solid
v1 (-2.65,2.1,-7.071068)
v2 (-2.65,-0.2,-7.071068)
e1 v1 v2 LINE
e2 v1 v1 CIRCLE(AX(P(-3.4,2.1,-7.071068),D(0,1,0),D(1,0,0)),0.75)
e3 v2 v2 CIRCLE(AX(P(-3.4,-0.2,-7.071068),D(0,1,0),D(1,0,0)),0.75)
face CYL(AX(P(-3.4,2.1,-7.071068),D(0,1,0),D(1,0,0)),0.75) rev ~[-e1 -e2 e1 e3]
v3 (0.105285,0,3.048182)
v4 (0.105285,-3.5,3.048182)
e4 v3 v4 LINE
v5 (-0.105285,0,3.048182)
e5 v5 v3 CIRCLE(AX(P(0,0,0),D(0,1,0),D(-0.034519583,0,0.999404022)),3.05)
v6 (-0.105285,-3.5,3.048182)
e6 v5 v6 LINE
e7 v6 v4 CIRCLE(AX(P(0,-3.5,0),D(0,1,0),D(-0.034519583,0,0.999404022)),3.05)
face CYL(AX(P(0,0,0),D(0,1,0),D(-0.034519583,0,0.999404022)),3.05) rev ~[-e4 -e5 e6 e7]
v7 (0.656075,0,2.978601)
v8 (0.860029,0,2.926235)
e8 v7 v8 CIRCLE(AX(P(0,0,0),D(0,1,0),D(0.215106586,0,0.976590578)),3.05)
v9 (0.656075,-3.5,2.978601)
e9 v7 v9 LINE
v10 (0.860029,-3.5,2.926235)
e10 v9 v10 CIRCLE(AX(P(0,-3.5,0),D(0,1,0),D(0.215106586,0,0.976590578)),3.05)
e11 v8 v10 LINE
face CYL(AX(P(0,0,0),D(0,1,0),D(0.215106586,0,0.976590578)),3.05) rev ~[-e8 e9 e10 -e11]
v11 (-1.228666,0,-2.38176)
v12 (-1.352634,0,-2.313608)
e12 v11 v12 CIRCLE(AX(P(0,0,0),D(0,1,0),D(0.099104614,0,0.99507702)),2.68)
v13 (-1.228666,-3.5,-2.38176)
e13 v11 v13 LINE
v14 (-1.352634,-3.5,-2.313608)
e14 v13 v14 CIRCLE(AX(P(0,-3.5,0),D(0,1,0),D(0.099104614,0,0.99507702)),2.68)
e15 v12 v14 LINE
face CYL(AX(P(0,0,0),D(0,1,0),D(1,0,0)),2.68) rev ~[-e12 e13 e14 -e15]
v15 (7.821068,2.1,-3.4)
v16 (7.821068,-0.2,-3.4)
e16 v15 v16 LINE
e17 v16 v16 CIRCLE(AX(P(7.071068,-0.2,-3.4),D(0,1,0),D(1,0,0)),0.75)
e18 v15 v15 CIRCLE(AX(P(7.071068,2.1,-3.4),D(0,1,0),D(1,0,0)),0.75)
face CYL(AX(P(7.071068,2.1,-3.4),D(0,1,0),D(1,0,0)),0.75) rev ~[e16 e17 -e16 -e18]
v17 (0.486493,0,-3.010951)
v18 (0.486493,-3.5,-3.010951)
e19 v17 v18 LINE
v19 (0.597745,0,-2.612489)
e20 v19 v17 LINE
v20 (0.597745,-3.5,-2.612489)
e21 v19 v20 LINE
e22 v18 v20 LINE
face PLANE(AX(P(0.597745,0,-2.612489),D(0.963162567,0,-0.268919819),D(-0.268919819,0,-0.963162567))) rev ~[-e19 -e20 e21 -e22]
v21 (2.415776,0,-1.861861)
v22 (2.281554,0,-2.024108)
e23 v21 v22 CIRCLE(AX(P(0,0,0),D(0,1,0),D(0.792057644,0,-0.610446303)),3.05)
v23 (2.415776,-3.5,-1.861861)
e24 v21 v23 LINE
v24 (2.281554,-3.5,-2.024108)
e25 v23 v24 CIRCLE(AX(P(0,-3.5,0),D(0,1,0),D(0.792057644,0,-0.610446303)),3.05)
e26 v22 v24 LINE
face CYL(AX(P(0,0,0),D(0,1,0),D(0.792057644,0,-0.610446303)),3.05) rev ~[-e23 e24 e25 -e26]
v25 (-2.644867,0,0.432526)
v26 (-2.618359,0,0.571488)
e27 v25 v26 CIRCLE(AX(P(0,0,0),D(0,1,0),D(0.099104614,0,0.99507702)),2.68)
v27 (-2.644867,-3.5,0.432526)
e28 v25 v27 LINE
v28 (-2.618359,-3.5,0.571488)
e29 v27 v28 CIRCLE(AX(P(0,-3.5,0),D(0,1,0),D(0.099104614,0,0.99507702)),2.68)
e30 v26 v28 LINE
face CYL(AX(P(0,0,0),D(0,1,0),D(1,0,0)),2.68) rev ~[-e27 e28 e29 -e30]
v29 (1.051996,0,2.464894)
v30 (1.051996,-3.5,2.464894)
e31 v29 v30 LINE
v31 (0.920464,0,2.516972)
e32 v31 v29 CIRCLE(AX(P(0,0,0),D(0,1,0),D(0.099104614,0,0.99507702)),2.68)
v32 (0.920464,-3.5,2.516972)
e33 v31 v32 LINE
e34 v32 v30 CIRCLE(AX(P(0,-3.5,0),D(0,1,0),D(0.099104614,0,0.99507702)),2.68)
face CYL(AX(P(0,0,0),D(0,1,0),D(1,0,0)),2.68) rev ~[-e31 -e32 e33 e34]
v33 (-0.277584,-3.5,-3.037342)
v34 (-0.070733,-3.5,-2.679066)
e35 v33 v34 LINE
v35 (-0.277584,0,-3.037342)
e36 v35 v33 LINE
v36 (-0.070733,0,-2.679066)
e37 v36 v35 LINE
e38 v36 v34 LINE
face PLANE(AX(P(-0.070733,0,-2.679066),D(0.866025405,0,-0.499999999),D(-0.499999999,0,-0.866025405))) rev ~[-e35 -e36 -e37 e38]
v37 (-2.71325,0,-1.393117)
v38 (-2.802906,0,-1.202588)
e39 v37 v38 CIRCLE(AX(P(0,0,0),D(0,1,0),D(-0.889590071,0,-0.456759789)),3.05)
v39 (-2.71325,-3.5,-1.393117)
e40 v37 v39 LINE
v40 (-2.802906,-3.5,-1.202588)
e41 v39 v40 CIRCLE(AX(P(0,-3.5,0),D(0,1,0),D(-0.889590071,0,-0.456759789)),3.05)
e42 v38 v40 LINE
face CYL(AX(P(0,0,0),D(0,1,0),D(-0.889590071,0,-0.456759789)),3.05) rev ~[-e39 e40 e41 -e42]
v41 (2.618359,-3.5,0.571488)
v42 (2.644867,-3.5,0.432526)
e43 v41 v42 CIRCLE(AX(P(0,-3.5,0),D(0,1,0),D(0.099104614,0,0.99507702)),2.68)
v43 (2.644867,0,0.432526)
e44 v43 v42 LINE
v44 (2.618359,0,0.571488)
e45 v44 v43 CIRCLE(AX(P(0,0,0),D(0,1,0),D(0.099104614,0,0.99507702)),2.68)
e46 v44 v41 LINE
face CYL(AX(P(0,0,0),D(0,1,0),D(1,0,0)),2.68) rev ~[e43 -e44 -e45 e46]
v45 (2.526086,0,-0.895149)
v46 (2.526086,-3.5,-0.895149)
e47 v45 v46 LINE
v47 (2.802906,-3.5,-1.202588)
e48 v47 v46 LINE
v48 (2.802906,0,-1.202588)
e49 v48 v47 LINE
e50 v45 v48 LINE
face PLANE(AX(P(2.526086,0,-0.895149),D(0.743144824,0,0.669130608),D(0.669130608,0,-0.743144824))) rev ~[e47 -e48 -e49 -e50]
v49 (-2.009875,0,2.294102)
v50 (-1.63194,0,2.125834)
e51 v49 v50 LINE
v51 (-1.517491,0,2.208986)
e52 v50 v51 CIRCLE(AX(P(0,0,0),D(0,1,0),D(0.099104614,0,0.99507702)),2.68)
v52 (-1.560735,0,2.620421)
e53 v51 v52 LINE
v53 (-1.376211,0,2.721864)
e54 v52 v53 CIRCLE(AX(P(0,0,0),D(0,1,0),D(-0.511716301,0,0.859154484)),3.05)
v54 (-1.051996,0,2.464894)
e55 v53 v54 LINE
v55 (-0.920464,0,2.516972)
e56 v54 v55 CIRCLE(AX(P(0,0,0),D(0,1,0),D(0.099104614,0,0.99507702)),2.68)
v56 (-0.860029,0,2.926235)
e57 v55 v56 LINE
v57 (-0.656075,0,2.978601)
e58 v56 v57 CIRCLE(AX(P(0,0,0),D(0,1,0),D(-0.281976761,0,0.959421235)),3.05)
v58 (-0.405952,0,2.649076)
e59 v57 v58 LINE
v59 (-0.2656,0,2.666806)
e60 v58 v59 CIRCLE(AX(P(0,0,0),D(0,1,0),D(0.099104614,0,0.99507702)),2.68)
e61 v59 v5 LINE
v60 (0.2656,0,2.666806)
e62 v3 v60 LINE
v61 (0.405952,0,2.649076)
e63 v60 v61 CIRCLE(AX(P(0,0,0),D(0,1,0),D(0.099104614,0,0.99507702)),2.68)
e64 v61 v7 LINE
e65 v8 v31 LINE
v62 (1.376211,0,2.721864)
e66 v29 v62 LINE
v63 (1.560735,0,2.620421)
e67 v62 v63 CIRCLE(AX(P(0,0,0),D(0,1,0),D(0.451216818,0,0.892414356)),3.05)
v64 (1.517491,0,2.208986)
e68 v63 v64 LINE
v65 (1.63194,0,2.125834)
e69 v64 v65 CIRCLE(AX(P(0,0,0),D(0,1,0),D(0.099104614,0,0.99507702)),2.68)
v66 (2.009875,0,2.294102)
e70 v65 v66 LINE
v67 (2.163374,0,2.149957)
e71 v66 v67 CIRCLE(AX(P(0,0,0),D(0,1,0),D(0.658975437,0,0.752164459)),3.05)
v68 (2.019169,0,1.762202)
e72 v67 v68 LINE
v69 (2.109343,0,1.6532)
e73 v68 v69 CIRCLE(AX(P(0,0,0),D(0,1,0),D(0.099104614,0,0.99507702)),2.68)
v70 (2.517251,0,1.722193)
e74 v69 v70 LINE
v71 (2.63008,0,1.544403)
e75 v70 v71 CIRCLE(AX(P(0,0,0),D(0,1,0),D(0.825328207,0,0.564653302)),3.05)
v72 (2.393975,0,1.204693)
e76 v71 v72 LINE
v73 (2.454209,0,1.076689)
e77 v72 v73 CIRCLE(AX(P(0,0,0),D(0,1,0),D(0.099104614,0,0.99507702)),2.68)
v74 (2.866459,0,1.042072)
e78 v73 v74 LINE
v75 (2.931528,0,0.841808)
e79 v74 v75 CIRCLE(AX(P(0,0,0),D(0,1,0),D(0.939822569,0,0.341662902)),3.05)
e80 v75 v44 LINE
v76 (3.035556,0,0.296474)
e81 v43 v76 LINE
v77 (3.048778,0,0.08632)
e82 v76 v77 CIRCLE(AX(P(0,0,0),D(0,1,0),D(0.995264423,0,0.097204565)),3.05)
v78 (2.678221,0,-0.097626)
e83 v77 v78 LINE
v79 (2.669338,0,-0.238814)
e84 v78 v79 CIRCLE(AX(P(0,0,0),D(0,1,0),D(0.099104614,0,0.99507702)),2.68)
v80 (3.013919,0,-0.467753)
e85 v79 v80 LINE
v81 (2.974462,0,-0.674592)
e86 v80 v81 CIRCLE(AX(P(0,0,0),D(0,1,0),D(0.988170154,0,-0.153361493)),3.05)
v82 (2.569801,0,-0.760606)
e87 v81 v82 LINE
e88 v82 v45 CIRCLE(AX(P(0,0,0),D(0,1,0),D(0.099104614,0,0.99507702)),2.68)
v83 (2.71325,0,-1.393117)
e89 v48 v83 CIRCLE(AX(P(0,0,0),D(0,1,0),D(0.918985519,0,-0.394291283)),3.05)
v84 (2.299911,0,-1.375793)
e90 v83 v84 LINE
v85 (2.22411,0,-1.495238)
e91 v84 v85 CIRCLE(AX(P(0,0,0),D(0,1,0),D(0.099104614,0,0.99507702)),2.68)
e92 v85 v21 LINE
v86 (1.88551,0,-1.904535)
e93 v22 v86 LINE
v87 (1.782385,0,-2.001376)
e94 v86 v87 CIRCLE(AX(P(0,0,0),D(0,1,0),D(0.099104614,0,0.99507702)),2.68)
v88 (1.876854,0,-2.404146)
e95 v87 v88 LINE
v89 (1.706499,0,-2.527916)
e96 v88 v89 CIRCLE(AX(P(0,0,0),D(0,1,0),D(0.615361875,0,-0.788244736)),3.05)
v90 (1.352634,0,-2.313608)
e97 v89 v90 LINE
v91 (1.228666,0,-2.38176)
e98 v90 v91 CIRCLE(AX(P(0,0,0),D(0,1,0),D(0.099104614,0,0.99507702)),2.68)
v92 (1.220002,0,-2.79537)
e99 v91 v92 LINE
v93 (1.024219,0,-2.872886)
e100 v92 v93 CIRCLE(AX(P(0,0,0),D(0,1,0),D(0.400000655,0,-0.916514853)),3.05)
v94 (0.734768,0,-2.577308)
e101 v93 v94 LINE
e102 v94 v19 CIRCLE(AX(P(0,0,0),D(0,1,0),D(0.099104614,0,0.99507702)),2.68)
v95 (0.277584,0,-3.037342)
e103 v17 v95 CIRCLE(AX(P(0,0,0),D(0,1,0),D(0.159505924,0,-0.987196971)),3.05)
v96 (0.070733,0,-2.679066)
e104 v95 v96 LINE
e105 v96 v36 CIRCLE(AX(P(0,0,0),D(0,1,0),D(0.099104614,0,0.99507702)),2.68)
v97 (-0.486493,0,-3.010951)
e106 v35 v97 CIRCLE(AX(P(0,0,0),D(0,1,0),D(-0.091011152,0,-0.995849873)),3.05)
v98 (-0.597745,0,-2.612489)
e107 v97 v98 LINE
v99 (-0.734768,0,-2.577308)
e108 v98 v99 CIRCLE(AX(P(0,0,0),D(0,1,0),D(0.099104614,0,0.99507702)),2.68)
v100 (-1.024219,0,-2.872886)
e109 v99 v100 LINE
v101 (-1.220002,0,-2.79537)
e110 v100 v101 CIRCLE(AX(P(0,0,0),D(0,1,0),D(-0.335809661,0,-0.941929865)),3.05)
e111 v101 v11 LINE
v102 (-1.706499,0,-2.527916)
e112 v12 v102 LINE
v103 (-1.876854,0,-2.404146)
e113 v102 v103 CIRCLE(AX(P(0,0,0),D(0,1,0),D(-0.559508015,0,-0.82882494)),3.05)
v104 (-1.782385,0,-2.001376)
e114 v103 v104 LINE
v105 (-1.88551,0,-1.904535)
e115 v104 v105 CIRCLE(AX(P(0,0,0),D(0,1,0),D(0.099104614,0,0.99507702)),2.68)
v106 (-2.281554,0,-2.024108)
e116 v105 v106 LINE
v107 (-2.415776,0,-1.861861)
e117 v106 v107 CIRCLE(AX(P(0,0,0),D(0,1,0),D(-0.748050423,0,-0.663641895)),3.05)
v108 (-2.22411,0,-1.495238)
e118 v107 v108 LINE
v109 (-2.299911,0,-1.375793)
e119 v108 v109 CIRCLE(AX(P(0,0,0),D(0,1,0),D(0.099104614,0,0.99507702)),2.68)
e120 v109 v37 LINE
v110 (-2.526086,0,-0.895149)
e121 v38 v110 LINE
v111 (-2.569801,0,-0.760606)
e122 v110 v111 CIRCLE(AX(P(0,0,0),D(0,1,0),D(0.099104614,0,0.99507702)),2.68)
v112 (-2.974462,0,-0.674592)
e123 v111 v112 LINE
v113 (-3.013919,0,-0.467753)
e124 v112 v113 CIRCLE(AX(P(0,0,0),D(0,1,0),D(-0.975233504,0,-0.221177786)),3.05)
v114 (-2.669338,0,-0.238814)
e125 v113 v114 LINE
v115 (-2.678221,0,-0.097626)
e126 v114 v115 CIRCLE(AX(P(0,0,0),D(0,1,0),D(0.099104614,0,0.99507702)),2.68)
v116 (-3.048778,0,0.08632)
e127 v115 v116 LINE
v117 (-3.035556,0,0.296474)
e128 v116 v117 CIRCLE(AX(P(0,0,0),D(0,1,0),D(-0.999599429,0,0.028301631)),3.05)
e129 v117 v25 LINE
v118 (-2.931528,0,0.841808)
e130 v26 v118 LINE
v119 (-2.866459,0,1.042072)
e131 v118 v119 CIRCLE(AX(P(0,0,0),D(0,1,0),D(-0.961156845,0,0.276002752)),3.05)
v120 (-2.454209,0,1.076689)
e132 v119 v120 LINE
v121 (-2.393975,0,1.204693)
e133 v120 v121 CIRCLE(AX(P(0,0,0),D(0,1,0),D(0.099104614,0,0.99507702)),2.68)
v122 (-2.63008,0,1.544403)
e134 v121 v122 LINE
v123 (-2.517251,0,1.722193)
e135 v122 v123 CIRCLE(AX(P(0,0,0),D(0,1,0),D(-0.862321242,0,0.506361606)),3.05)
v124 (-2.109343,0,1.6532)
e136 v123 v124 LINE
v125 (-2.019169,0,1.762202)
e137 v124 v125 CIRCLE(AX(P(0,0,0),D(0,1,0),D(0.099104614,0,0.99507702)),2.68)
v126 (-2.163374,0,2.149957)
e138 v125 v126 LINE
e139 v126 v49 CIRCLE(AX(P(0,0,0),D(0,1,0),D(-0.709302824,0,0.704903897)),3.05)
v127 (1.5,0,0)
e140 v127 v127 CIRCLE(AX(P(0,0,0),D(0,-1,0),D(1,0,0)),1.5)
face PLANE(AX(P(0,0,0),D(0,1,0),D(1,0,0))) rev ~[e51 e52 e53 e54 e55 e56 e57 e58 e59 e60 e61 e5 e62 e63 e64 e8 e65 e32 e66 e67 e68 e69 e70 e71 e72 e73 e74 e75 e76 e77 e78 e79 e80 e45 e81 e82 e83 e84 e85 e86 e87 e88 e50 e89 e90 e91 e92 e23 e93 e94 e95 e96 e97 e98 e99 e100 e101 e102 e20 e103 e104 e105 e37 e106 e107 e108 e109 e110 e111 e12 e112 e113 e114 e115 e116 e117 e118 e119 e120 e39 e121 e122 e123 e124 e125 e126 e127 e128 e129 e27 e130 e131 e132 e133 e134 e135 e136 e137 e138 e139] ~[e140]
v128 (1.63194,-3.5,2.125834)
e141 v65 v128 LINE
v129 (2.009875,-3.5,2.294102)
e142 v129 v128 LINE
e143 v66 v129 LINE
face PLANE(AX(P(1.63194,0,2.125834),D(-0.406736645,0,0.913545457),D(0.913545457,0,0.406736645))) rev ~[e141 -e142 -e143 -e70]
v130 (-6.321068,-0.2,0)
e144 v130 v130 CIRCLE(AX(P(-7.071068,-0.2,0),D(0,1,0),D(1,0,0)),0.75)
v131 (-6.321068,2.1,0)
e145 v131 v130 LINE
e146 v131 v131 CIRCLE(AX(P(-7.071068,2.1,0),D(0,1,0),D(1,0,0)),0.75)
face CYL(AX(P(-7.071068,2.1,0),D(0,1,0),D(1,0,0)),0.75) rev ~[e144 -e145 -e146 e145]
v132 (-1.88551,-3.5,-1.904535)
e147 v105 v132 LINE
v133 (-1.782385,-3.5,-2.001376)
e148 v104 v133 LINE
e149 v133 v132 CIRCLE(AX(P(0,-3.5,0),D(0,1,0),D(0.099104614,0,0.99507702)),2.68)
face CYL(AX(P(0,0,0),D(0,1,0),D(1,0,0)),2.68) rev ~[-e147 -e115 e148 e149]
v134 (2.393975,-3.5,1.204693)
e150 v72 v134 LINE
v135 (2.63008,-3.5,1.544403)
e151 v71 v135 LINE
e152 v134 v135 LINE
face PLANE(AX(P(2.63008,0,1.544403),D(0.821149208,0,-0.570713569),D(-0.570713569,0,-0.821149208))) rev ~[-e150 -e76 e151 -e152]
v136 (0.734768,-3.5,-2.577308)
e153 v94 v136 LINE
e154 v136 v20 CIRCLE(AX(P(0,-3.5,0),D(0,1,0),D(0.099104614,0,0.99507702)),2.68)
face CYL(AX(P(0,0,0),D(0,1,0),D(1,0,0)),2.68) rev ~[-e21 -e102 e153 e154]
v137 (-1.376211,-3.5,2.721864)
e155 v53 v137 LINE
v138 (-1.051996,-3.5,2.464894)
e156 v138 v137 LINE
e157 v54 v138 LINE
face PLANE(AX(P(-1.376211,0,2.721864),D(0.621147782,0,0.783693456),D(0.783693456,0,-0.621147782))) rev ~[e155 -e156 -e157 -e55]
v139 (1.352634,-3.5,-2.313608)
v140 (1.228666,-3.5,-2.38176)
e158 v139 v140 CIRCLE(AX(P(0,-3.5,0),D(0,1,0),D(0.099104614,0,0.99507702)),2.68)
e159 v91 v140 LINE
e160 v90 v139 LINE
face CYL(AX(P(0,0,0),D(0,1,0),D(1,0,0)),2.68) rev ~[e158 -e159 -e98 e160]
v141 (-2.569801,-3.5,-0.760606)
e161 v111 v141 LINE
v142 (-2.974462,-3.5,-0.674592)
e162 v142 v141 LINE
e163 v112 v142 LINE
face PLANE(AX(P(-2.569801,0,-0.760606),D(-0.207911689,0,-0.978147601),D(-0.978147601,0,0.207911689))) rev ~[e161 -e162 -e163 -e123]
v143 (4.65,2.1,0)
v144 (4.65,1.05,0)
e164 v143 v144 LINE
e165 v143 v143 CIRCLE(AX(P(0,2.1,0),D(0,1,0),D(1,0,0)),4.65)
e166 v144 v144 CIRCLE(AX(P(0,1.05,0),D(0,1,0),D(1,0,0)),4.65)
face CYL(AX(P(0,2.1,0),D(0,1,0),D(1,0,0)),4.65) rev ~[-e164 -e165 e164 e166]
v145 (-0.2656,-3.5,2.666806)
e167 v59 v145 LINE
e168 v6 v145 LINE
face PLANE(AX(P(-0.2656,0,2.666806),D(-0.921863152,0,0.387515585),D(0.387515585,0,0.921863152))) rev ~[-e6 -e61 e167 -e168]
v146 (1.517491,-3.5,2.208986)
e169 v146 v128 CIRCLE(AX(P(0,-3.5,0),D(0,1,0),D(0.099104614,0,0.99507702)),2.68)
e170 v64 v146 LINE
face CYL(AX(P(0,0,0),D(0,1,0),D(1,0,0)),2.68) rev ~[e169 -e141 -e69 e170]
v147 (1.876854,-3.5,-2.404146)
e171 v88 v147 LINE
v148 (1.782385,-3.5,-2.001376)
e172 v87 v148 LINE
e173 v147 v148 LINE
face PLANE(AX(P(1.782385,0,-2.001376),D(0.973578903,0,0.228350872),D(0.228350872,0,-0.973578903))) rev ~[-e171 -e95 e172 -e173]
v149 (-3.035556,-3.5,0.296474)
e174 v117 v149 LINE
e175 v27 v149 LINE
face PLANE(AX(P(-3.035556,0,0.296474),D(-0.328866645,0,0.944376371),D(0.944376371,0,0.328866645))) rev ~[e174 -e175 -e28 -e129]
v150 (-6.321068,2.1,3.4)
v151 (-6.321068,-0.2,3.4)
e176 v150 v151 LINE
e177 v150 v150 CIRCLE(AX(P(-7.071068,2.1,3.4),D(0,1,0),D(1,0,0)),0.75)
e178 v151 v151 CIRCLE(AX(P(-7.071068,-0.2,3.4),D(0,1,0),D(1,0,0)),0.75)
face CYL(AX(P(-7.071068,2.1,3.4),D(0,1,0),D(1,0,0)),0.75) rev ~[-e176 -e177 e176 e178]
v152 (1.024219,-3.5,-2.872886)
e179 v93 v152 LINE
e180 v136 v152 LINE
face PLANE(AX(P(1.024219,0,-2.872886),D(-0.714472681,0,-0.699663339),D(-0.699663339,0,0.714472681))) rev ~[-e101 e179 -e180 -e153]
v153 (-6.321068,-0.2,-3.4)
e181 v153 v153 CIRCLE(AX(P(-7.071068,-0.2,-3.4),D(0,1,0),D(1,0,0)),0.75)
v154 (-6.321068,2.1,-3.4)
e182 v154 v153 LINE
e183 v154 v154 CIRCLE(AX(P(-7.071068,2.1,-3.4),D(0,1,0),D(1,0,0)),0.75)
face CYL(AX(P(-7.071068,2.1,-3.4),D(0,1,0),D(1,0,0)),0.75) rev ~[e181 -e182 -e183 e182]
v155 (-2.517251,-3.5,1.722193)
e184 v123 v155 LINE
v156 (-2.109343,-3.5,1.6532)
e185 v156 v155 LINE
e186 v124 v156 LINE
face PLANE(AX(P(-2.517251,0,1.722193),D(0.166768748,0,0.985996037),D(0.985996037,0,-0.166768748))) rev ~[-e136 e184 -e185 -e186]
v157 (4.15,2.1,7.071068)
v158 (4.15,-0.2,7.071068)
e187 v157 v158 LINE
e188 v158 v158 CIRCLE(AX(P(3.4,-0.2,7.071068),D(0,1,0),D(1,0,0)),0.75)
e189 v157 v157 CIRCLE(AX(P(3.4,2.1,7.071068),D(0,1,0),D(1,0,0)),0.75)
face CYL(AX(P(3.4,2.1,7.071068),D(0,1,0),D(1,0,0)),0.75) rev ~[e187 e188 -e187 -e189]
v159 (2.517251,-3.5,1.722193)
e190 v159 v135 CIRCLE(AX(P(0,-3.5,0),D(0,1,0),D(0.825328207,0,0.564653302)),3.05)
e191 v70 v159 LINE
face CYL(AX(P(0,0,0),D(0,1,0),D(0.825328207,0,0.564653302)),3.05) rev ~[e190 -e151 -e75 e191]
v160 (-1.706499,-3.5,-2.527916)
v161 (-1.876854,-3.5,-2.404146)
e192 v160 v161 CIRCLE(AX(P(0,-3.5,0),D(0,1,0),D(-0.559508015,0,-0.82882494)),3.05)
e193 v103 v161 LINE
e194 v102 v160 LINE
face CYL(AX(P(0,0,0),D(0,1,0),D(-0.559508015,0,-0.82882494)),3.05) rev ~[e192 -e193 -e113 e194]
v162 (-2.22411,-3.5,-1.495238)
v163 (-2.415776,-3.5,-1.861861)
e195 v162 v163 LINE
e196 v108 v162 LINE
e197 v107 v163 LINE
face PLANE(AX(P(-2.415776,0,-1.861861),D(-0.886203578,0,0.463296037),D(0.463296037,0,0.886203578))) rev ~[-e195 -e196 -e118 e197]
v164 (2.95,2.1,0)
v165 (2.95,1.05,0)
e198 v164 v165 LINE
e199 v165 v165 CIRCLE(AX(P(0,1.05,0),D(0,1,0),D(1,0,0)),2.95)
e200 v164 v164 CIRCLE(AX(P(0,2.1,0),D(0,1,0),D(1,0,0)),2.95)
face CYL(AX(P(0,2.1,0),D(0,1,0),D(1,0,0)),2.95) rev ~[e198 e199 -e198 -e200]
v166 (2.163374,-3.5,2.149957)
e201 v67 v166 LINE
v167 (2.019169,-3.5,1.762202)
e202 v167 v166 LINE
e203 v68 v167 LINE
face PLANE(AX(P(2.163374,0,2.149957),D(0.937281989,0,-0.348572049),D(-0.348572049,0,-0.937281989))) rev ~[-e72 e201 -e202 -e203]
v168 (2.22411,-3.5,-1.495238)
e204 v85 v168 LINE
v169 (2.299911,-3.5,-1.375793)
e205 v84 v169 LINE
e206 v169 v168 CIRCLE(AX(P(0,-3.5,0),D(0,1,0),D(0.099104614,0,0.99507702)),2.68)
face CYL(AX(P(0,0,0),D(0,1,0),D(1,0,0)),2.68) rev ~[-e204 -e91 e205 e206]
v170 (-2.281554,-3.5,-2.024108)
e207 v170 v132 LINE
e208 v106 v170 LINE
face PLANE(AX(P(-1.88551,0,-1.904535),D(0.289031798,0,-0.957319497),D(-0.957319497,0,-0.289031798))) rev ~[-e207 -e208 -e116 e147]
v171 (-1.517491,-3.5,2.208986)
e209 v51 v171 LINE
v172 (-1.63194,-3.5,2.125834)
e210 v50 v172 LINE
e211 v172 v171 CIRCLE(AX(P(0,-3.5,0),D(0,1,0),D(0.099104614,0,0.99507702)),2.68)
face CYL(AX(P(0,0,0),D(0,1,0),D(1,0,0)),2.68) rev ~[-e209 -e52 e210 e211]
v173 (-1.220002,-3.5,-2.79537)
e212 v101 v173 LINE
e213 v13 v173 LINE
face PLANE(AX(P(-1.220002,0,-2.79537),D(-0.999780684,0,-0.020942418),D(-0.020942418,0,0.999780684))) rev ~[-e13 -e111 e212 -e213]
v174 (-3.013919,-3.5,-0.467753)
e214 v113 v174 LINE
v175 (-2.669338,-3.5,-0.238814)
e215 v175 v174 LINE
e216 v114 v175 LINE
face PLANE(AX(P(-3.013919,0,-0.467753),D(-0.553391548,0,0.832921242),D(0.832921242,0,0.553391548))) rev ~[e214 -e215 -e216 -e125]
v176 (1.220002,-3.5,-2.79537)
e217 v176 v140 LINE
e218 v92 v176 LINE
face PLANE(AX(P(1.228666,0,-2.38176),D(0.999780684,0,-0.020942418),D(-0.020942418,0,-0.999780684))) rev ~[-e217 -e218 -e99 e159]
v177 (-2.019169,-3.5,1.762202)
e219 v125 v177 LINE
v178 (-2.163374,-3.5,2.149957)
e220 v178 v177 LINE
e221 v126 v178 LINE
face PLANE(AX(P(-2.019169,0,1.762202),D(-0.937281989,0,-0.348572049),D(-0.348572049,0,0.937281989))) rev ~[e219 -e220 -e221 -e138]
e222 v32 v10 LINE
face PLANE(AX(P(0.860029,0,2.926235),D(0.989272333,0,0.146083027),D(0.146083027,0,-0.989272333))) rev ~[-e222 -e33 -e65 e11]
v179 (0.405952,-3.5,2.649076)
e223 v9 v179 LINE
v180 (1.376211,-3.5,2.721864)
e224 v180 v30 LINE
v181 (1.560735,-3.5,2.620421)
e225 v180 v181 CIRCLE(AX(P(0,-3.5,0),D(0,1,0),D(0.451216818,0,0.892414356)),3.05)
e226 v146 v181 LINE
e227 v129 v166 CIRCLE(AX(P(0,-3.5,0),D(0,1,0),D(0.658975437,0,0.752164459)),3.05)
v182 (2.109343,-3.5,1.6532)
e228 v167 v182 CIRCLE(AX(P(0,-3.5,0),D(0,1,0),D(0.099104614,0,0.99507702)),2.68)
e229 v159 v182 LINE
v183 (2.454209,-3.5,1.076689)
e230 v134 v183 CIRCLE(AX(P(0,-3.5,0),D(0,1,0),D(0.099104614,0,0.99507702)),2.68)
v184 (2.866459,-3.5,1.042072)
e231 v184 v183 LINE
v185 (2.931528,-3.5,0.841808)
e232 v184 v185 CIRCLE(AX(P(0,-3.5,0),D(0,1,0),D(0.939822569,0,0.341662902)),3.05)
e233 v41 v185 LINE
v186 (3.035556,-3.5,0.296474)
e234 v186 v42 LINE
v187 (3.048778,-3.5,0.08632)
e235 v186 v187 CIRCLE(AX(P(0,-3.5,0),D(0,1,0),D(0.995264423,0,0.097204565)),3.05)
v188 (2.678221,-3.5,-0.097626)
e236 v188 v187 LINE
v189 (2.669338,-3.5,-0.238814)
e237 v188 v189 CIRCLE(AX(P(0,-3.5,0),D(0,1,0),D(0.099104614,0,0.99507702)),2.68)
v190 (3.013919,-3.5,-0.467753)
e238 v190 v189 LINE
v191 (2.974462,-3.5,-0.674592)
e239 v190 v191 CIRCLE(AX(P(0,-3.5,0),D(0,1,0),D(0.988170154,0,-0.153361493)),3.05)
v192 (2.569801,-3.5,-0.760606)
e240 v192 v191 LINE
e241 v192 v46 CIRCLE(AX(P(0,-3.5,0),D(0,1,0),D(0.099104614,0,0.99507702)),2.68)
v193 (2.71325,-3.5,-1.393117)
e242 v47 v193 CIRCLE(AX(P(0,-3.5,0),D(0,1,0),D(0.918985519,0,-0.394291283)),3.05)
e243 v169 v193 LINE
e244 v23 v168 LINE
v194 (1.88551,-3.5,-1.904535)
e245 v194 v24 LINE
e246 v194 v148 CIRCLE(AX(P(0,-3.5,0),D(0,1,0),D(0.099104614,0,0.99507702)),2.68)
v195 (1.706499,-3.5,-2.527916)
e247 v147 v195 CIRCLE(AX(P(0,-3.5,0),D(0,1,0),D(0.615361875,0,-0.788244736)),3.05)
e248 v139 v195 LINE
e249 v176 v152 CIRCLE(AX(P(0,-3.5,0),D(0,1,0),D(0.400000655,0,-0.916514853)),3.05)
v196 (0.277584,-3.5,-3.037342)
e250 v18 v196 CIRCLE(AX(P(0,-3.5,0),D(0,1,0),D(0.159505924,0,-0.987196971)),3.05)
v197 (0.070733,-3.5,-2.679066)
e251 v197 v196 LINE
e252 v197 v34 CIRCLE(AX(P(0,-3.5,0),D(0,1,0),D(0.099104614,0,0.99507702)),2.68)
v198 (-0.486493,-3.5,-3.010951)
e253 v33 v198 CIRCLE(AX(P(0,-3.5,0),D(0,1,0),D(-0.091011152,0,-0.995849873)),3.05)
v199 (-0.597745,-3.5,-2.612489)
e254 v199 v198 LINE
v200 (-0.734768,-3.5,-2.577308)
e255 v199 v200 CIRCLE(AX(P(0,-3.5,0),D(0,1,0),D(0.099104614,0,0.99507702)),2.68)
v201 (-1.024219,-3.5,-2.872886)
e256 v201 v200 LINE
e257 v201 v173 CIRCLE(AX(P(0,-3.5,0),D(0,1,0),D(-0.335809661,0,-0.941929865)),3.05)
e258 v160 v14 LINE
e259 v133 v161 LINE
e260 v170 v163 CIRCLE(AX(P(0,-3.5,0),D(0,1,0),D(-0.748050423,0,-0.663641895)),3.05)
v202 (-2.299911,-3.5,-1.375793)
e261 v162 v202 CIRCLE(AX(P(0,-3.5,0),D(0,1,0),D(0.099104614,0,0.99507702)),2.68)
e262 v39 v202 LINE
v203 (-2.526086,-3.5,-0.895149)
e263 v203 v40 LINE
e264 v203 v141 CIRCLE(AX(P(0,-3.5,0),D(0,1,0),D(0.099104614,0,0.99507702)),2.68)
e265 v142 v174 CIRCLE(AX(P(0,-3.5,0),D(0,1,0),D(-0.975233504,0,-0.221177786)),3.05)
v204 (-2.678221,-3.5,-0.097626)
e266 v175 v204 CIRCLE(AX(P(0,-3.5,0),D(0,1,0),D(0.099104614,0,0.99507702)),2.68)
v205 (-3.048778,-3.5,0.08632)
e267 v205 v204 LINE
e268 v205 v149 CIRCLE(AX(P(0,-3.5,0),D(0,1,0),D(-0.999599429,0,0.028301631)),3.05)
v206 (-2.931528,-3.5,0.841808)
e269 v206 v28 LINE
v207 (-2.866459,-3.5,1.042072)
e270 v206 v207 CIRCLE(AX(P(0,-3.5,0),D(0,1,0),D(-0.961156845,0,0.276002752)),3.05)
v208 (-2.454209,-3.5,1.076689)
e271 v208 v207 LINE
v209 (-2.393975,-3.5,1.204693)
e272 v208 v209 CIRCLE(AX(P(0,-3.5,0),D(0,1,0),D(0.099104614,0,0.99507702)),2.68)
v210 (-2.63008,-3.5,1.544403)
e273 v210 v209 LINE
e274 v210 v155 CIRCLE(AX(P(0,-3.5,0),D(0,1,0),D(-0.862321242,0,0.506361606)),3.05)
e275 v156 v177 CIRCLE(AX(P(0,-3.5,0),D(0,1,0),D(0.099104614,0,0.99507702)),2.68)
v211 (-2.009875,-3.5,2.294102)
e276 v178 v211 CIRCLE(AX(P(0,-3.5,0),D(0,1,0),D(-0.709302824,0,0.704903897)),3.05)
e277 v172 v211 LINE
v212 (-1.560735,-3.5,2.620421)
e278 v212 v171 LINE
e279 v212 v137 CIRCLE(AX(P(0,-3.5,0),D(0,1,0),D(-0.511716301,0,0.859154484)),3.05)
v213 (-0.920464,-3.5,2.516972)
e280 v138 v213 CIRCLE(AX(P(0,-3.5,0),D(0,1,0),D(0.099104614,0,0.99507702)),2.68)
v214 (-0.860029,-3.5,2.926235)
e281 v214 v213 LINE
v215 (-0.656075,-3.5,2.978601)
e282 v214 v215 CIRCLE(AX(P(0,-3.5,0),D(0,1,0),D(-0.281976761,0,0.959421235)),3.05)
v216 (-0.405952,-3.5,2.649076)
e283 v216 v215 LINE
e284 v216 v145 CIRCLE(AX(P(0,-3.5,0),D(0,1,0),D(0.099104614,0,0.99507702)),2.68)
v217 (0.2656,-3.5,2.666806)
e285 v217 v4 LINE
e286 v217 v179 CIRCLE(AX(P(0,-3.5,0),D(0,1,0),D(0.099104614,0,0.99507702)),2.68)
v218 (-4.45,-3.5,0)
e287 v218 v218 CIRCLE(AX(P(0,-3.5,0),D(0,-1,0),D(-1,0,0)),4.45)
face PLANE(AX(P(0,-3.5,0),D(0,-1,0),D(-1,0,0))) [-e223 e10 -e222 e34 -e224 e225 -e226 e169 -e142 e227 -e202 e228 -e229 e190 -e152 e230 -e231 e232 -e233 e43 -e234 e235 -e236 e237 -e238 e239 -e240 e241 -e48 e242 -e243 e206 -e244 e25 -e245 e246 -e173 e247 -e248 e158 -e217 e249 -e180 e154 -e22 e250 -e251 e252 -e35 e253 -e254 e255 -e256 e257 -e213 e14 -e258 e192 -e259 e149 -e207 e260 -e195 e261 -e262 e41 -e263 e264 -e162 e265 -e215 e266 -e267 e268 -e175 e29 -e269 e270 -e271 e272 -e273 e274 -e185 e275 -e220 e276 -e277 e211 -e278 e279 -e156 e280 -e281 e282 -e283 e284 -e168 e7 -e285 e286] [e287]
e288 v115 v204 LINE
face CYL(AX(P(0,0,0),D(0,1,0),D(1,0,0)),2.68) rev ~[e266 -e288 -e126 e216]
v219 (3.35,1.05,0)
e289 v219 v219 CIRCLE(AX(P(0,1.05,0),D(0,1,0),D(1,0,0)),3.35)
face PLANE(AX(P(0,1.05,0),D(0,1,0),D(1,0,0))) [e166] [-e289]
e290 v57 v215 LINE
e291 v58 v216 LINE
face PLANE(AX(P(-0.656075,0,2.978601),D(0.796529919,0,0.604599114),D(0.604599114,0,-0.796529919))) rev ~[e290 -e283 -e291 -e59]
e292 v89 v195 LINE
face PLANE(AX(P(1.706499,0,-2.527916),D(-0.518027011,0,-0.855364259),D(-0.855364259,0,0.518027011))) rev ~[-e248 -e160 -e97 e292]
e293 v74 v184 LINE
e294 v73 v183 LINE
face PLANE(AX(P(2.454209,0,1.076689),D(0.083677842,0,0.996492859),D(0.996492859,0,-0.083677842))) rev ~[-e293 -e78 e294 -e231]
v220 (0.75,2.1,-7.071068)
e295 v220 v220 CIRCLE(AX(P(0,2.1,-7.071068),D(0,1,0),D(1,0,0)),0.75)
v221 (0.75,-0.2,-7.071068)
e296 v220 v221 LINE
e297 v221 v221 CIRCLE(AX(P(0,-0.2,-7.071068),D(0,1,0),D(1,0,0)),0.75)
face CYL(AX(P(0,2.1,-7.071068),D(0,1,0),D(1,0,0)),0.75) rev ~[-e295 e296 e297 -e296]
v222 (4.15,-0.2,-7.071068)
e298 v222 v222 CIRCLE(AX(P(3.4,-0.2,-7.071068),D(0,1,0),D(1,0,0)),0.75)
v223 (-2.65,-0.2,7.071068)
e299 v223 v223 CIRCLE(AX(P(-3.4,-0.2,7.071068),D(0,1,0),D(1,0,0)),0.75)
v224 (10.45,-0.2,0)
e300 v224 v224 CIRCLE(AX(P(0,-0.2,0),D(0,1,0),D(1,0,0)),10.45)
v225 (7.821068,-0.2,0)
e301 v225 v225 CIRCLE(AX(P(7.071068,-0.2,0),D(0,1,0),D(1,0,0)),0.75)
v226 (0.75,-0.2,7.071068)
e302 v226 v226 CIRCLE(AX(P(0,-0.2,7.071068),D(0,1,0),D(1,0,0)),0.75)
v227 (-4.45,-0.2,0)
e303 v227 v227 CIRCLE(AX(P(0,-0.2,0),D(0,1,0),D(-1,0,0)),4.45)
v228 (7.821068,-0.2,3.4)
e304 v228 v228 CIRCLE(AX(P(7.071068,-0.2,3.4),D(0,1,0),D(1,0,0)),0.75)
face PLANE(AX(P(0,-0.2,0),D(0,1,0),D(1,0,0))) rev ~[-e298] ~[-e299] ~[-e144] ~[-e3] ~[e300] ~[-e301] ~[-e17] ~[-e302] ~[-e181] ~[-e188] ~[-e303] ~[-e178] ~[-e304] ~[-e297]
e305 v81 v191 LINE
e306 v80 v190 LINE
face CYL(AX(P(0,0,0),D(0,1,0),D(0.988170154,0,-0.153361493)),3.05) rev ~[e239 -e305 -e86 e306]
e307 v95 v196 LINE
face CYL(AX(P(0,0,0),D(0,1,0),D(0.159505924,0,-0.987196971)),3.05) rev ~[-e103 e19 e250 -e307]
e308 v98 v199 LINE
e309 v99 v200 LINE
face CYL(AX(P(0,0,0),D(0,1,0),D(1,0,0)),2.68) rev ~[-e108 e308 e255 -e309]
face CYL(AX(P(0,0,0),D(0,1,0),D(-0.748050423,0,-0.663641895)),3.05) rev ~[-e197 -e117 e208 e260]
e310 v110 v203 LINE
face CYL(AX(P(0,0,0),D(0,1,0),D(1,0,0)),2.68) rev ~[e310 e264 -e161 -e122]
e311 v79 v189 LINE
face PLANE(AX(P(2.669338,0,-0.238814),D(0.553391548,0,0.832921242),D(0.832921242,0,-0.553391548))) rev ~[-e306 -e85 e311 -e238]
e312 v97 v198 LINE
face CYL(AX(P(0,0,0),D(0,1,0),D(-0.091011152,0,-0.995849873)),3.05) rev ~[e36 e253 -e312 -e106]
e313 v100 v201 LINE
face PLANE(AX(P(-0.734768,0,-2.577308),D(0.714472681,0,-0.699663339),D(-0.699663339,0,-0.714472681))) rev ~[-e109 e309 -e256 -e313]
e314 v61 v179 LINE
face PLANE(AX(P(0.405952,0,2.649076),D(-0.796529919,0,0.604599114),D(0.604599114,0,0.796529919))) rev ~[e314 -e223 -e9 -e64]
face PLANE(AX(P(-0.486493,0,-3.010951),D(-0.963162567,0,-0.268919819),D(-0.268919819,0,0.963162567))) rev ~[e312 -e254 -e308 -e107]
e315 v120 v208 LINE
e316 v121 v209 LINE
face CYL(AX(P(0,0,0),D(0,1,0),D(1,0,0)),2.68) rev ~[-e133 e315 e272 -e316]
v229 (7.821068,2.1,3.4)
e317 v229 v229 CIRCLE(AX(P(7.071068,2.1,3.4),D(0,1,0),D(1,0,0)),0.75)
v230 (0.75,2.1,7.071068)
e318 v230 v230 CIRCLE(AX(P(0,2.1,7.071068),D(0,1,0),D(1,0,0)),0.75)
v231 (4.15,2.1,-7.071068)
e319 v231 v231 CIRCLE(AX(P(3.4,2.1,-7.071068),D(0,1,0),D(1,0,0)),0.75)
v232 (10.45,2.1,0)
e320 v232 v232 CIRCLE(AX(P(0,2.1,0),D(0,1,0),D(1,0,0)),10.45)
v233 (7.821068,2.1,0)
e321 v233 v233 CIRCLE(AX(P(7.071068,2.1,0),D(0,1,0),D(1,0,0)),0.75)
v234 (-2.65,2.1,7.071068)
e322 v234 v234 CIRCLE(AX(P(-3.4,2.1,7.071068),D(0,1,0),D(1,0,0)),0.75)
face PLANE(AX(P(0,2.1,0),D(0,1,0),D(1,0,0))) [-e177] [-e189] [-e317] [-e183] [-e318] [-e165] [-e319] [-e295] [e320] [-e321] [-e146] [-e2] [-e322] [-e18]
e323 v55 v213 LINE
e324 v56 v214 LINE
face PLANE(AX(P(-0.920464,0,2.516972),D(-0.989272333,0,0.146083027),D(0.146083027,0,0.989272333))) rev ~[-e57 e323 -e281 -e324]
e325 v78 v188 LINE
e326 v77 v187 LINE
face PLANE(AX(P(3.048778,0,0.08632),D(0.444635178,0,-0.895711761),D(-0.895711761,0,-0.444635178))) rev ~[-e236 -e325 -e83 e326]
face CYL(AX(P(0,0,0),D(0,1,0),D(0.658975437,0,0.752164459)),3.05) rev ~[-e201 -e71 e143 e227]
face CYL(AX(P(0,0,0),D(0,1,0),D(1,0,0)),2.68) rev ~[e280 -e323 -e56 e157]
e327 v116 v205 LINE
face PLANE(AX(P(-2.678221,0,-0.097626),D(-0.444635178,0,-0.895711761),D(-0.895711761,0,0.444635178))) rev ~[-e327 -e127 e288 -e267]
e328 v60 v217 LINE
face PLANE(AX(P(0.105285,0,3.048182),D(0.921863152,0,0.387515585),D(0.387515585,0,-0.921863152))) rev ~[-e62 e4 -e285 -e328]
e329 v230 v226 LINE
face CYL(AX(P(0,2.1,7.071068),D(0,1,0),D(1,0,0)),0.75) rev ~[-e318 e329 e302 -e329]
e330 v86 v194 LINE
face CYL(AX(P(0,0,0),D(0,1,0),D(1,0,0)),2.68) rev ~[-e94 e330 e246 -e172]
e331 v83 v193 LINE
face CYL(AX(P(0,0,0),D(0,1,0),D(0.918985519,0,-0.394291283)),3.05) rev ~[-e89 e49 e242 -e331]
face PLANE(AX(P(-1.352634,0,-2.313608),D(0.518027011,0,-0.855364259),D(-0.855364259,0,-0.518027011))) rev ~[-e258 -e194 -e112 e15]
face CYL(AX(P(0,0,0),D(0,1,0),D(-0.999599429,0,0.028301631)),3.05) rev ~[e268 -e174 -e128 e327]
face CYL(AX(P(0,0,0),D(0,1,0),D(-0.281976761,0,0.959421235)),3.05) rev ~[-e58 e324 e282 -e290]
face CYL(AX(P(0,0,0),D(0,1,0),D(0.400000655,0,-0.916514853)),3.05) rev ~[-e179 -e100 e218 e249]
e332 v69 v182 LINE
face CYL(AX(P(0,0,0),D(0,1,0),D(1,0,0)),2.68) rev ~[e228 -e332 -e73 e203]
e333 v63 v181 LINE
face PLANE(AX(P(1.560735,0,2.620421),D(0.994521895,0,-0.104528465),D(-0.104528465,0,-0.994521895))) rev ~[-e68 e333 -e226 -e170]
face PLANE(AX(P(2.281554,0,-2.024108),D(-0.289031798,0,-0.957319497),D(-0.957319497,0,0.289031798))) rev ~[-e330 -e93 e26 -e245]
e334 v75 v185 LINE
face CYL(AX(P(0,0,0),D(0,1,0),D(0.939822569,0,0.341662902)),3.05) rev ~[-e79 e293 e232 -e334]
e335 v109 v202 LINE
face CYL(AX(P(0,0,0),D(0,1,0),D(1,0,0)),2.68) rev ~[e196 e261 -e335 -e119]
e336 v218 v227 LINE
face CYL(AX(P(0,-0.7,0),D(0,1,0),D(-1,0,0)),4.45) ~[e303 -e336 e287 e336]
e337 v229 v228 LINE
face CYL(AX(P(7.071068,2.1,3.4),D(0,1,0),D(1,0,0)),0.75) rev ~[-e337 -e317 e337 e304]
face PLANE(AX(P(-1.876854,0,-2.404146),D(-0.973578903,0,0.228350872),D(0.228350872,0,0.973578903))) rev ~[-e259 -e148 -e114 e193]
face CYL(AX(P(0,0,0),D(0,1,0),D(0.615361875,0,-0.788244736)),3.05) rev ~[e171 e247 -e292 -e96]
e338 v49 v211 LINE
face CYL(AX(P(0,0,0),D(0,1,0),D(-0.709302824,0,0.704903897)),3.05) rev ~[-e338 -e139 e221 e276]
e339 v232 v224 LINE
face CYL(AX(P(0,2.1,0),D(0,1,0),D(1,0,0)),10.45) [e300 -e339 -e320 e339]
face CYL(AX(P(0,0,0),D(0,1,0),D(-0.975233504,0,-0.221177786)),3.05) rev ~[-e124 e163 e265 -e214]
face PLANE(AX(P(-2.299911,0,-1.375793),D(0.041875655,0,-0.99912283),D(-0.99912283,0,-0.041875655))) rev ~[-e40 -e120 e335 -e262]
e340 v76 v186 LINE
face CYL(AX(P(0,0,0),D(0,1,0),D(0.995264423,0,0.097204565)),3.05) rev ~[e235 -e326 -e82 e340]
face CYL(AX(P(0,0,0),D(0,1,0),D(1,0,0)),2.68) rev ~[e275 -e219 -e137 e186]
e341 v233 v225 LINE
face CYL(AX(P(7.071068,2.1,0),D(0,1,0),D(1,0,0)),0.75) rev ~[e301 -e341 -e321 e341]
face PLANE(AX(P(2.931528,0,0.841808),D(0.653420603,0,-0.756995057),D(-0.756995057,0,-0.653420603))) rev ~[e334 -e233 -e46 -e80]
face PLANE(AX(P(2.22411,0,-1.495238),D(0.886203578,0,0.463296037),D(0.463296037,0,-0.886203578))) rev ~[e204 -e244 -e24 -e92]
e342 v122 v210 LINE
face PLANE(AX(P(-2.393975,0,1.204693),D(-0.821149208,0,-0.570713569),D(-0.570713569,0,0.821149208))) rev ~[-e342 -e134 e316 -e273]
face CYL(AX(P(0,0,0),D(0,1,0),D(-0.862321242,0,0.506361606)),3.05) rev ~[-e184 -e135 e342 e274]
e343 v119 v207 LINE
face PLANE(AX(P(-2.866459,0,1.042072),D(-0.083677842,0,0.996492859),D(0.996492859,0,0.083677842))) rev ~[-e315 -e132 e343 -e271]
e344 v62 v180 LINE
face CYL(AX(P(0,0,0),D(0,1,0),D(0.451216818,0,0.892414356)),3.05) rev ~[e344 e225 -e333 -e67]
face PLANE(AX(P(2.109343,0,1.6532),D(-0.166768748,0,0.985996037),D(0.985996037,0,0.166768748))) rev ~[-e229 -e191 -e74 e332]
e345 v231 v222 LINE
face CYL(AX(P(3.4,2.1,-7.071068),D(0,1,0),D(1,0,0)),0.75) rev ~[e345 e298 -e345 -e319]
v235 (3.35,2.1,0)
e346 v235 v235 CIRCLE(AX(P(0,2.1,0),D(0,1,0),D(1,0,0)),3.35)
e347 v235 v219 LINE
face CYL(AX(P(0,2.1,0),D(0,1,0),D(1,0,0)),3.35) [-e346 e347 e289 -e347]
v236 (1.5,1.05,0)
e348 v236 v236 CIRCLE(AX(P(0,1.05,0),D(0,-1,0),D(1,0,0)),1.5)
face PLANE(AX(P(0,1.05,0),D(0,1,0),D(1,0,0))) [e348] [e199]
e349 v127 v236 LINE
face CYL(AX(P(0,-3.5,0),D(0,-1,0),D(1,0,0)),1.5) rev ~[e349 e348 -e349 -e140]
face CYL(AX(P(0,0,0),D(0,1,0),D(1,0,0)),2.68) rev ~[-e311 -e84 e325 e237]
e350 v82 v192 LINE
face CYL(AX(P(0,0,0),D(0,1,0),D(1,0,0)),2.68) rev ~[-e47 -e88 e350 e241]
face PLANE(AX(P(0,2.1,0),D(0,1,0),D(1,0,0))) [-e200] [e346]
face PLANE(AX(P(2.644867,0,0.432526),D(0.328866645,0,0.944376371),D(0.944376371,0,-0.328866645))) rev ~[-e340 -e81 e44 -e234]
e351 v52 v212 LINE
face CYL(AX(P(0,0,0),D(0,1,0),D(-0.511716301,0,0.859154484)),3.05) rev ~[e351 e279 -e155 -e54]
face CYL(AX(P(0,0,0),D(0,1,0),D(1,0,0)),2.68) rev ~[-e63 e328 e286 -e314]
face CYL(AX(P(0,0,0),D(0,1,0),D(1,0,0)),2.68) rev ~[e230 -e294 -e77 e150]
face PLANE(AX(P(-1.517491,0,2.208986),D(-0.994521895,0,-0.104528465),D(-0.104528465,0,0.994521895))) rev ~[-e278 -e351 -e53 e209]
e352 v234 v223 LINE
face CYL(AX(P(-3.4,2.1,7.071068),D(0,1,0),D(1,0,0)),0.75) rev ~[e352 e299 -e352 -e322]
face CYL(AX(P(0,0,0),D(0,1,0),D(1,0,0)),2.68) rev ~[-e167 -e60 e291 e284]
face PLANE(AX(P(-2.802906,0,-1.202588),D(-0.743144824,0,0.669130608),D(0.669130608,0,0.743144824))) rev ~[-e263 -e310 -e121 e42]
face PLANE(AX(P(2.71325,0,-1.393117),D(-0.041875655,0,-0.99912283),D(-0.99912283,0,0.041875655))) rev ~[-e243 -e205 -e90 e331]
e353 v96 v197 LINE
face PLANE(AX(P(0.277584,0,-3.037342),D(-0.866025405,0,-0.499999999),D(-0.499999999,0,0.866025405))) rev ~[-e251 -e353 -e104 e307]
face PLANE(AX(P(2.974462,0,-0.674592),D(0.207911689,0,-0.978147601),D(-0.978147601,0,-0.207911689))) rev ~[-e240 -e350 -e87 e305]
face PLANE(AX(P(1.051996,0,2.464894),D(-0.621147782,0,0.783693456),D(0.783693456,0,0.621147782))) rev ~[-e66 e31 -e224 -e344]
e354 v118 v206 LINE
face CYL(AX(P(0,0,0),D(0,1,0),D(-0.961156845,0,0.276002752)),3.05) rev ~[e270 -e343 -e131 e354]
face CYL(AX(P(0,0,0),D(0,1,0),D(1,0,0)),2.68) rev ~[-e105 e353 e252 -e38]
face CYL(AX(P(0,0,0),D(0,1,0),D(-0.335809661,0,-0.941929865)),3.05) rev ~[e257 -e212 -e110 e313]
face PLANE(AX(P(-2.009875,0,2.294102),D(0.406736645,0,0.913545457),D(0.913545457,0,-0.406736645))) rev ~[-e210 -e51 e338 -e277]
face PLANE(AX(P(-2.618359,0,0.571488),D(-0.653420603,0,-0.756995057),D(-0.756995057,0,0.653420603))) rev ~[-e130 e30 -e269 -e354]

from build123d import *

# Parameters (mm, degrees)
ESQUISSE2_W                  = 4.45
ESQUISSE2_H                  = 5.6
ESQUISSE3_R                  = 10.45
ESQUISSE3_R_2                = 0.75
BOSS_EXTRU_1_DEPTH           = 2.3
ESQUISSE4_R                  = 2.95
ENL_V_MAT_EXTRU_1_DEPTH      = 1.05
ESQUISSE5_R                  = 4.65
ESQUISSE5_R_2                = 3.35
ENL_V_MAT_EXTRU_2_DEPTH      = 1.05
ESQUISSE6_R                  = 1.5
ENL_V_MAT_EXTRU_3_DEPTH      = 6.6
ESQUISSE8_R                  = 2.68
ENL_V_MAT_EXTRU_4_DEPTH      = 4.5
ENL_V_MAT_EXTRU_5_DEPTH      = 4.5
R_P_TITION_CIRCULAIRE1_COUNT = 25


with BuildPart() as part:
    # Esquisse2 → Révolution1 (revolve)
    with BuildSketch(Plane.XY):
        with Locations((-2.225, -0.7)):
            Rectangle(ESQUISSE2_W, ESQUISSE2_H)
    revolve(axis=Axis((0, 3.929571688, 0), (0, -1, 0)))

    # Esquisse3 → Boss.-Extru.1 (add)
    with BuildSketch(Plane(origin=(0, 2.1, 0), x_dir=(1, 0, 0), z_dir=(0, 1, 0))):
        Circle(ESQUISSE3_R)
        with Locations((-3.4, 7.071067812)):
            Circle(ESQUISSE3_R_2, mode=Mode.SUBTRACT)
        with Locations((0, 7.071067812)):
            Circle(ESQUISSE3_R_2, mode=Mode.SUBTRACT)
        with Locations((3.4, 7.071067812)):
            Circle(ESQUISSE3_R_2, mode=Mode.SUBTRACT)
        with Locations((-7.071067812, 3.4)):
            Circle(ESQUISSE3_R_2, mode=Mode.SUBTRACT)
        with Locations((-7.071067812, 0)):
            Circle(ESQUISSE3_R_2, mode=Mode.SUBTRACT)
        with Locations((-7.071067812, -3.4)):
            Circle(ESQUISSE3_R_2, mode=Mode.SUBTRACT)
        with Locations((-3.4, -7.071067812)):
            Circle(ESQUISSE3_R_2, mode=Mode.SUBTRACT)
        with Locations((0, -7.071067812)):
            Circle(ESQUISSE3_R_2, mode=Mode.SUBTRACT)
        with Locations((3.4, -7.071067812)):
            Circle(ESQUISSE3_R_2, mode=Mode.SUBTRACT)
        with Locations((7.071067812, 3.4)):
            Circle(ESQUISSE3_R_2, mode=Mode.SUBTRACT)
        with Locations((7.071067812, 0)):
            Circle(ESQUISSE3_R_2, mode=Mode.SUBTRACT)
        with Locations((7.071067812, -3.4)):
            Circle(ESQUISSE3_R_2, mode=Mode.SUBTRACT)
    extrude(amount=-BOSS_EXTRU_1_DEPTH)

    # Esquisse4 → Enlèv. mat.-Extru.1 (cut)
    with BuildSketch(Plane(origin=(0, 2.1, 0), x_dir=(1, 0, 0), z_dir=(0, 1, 0))):
        Circle(ESQUISSE4_R)
    extrude(amount=-ENL_V_MAT_EXTRU_1_DEPTH, mode=Mode.SUBTRACT)

    # Esquisse5 → Enlèv. mat.-Extru.2 (cut)
    with BuildSketch(Plane(origin=(0, 2.1, 0), x_dir=(1, 0, 0), z_dir=(0, 1, 0))):
        Circle(ESQUISSE5_R)
        Circle(ESQUISSE5_R_2, mode=Mode.SUBTRACT)
    extrude(amount=-ENL_V_MAT_EXTRU_2_DEPTH, mode=Mode.SUBTRACT)

    # Esquisse6 → Enlèv. mat.-Extru.3 (cut, through all)
    with BuildSketch(Plane.XZ.offset(3.5)):
        Circle(ESQUISSE6_R)
    extrude(amount=-ENL_V_MAT_EXTRU_3_DEPTH, mode=Mode.SUBTRACT)

    # Esquisse8 → Enlèv. mat.-Extru.4 (cut, through all)
    with BuildSketch(Plane(origin=(0, 0, 0), x_dir=(1, 0, 0), z_dir=(0, 1, 0))):
        Circle(ESQUISSE8_R)
    extrude(amount=-ENL_V_MAT_EXTRU_4_DEPTH, mode=Mode.SUBTRACT)

    # Esquisse9 → Enlèv. mat.-Extru.5 (cut, through all)
    with BuildSketch(Plane(origin=(0, 0, 0), x_dir=(1, 0, 0), z_dir=(0, 1, 0))):
        with BuildLine():
            Line((0.10528472, -3.048182266), (0.265600366, -2.666806413))
            ThreePointArc((0.265600366, -2.666806413), (0, -2.68), (-0.265600366, -2.666806413))
            Line((-0.265600366, -2.666806413), (-0.10528472, -3.048182266))
            ThreePointArc((-0.10528472, -3.048182266), (0, -3.05), (0.10528472, -3.048182266))
        make_face()
    enl_v_mat_extru_5 = extrude(amount=-ENL_V_MAT_EXTRU_5_DEPTH, mode=Mode.SUBTRACT)

    # Répétition circulaire1: Enlèv. mat.-Extru.5 ×25 about axis
    r_p_tition_circulaire1_axis = Axis((0, 0, 0), (0, 1, 0))
    for i in range(1, R_P_TITION_CIRCULAIRE1_COUNT):
        add(enl_v_mat_extru_5.rotate(r_p_tition_circulaire1_axis, i * 360 / R_P_TITION_CIRCULAIRE1_COUNT), mode=Mode.SUBTRACT)


solid = part.part
